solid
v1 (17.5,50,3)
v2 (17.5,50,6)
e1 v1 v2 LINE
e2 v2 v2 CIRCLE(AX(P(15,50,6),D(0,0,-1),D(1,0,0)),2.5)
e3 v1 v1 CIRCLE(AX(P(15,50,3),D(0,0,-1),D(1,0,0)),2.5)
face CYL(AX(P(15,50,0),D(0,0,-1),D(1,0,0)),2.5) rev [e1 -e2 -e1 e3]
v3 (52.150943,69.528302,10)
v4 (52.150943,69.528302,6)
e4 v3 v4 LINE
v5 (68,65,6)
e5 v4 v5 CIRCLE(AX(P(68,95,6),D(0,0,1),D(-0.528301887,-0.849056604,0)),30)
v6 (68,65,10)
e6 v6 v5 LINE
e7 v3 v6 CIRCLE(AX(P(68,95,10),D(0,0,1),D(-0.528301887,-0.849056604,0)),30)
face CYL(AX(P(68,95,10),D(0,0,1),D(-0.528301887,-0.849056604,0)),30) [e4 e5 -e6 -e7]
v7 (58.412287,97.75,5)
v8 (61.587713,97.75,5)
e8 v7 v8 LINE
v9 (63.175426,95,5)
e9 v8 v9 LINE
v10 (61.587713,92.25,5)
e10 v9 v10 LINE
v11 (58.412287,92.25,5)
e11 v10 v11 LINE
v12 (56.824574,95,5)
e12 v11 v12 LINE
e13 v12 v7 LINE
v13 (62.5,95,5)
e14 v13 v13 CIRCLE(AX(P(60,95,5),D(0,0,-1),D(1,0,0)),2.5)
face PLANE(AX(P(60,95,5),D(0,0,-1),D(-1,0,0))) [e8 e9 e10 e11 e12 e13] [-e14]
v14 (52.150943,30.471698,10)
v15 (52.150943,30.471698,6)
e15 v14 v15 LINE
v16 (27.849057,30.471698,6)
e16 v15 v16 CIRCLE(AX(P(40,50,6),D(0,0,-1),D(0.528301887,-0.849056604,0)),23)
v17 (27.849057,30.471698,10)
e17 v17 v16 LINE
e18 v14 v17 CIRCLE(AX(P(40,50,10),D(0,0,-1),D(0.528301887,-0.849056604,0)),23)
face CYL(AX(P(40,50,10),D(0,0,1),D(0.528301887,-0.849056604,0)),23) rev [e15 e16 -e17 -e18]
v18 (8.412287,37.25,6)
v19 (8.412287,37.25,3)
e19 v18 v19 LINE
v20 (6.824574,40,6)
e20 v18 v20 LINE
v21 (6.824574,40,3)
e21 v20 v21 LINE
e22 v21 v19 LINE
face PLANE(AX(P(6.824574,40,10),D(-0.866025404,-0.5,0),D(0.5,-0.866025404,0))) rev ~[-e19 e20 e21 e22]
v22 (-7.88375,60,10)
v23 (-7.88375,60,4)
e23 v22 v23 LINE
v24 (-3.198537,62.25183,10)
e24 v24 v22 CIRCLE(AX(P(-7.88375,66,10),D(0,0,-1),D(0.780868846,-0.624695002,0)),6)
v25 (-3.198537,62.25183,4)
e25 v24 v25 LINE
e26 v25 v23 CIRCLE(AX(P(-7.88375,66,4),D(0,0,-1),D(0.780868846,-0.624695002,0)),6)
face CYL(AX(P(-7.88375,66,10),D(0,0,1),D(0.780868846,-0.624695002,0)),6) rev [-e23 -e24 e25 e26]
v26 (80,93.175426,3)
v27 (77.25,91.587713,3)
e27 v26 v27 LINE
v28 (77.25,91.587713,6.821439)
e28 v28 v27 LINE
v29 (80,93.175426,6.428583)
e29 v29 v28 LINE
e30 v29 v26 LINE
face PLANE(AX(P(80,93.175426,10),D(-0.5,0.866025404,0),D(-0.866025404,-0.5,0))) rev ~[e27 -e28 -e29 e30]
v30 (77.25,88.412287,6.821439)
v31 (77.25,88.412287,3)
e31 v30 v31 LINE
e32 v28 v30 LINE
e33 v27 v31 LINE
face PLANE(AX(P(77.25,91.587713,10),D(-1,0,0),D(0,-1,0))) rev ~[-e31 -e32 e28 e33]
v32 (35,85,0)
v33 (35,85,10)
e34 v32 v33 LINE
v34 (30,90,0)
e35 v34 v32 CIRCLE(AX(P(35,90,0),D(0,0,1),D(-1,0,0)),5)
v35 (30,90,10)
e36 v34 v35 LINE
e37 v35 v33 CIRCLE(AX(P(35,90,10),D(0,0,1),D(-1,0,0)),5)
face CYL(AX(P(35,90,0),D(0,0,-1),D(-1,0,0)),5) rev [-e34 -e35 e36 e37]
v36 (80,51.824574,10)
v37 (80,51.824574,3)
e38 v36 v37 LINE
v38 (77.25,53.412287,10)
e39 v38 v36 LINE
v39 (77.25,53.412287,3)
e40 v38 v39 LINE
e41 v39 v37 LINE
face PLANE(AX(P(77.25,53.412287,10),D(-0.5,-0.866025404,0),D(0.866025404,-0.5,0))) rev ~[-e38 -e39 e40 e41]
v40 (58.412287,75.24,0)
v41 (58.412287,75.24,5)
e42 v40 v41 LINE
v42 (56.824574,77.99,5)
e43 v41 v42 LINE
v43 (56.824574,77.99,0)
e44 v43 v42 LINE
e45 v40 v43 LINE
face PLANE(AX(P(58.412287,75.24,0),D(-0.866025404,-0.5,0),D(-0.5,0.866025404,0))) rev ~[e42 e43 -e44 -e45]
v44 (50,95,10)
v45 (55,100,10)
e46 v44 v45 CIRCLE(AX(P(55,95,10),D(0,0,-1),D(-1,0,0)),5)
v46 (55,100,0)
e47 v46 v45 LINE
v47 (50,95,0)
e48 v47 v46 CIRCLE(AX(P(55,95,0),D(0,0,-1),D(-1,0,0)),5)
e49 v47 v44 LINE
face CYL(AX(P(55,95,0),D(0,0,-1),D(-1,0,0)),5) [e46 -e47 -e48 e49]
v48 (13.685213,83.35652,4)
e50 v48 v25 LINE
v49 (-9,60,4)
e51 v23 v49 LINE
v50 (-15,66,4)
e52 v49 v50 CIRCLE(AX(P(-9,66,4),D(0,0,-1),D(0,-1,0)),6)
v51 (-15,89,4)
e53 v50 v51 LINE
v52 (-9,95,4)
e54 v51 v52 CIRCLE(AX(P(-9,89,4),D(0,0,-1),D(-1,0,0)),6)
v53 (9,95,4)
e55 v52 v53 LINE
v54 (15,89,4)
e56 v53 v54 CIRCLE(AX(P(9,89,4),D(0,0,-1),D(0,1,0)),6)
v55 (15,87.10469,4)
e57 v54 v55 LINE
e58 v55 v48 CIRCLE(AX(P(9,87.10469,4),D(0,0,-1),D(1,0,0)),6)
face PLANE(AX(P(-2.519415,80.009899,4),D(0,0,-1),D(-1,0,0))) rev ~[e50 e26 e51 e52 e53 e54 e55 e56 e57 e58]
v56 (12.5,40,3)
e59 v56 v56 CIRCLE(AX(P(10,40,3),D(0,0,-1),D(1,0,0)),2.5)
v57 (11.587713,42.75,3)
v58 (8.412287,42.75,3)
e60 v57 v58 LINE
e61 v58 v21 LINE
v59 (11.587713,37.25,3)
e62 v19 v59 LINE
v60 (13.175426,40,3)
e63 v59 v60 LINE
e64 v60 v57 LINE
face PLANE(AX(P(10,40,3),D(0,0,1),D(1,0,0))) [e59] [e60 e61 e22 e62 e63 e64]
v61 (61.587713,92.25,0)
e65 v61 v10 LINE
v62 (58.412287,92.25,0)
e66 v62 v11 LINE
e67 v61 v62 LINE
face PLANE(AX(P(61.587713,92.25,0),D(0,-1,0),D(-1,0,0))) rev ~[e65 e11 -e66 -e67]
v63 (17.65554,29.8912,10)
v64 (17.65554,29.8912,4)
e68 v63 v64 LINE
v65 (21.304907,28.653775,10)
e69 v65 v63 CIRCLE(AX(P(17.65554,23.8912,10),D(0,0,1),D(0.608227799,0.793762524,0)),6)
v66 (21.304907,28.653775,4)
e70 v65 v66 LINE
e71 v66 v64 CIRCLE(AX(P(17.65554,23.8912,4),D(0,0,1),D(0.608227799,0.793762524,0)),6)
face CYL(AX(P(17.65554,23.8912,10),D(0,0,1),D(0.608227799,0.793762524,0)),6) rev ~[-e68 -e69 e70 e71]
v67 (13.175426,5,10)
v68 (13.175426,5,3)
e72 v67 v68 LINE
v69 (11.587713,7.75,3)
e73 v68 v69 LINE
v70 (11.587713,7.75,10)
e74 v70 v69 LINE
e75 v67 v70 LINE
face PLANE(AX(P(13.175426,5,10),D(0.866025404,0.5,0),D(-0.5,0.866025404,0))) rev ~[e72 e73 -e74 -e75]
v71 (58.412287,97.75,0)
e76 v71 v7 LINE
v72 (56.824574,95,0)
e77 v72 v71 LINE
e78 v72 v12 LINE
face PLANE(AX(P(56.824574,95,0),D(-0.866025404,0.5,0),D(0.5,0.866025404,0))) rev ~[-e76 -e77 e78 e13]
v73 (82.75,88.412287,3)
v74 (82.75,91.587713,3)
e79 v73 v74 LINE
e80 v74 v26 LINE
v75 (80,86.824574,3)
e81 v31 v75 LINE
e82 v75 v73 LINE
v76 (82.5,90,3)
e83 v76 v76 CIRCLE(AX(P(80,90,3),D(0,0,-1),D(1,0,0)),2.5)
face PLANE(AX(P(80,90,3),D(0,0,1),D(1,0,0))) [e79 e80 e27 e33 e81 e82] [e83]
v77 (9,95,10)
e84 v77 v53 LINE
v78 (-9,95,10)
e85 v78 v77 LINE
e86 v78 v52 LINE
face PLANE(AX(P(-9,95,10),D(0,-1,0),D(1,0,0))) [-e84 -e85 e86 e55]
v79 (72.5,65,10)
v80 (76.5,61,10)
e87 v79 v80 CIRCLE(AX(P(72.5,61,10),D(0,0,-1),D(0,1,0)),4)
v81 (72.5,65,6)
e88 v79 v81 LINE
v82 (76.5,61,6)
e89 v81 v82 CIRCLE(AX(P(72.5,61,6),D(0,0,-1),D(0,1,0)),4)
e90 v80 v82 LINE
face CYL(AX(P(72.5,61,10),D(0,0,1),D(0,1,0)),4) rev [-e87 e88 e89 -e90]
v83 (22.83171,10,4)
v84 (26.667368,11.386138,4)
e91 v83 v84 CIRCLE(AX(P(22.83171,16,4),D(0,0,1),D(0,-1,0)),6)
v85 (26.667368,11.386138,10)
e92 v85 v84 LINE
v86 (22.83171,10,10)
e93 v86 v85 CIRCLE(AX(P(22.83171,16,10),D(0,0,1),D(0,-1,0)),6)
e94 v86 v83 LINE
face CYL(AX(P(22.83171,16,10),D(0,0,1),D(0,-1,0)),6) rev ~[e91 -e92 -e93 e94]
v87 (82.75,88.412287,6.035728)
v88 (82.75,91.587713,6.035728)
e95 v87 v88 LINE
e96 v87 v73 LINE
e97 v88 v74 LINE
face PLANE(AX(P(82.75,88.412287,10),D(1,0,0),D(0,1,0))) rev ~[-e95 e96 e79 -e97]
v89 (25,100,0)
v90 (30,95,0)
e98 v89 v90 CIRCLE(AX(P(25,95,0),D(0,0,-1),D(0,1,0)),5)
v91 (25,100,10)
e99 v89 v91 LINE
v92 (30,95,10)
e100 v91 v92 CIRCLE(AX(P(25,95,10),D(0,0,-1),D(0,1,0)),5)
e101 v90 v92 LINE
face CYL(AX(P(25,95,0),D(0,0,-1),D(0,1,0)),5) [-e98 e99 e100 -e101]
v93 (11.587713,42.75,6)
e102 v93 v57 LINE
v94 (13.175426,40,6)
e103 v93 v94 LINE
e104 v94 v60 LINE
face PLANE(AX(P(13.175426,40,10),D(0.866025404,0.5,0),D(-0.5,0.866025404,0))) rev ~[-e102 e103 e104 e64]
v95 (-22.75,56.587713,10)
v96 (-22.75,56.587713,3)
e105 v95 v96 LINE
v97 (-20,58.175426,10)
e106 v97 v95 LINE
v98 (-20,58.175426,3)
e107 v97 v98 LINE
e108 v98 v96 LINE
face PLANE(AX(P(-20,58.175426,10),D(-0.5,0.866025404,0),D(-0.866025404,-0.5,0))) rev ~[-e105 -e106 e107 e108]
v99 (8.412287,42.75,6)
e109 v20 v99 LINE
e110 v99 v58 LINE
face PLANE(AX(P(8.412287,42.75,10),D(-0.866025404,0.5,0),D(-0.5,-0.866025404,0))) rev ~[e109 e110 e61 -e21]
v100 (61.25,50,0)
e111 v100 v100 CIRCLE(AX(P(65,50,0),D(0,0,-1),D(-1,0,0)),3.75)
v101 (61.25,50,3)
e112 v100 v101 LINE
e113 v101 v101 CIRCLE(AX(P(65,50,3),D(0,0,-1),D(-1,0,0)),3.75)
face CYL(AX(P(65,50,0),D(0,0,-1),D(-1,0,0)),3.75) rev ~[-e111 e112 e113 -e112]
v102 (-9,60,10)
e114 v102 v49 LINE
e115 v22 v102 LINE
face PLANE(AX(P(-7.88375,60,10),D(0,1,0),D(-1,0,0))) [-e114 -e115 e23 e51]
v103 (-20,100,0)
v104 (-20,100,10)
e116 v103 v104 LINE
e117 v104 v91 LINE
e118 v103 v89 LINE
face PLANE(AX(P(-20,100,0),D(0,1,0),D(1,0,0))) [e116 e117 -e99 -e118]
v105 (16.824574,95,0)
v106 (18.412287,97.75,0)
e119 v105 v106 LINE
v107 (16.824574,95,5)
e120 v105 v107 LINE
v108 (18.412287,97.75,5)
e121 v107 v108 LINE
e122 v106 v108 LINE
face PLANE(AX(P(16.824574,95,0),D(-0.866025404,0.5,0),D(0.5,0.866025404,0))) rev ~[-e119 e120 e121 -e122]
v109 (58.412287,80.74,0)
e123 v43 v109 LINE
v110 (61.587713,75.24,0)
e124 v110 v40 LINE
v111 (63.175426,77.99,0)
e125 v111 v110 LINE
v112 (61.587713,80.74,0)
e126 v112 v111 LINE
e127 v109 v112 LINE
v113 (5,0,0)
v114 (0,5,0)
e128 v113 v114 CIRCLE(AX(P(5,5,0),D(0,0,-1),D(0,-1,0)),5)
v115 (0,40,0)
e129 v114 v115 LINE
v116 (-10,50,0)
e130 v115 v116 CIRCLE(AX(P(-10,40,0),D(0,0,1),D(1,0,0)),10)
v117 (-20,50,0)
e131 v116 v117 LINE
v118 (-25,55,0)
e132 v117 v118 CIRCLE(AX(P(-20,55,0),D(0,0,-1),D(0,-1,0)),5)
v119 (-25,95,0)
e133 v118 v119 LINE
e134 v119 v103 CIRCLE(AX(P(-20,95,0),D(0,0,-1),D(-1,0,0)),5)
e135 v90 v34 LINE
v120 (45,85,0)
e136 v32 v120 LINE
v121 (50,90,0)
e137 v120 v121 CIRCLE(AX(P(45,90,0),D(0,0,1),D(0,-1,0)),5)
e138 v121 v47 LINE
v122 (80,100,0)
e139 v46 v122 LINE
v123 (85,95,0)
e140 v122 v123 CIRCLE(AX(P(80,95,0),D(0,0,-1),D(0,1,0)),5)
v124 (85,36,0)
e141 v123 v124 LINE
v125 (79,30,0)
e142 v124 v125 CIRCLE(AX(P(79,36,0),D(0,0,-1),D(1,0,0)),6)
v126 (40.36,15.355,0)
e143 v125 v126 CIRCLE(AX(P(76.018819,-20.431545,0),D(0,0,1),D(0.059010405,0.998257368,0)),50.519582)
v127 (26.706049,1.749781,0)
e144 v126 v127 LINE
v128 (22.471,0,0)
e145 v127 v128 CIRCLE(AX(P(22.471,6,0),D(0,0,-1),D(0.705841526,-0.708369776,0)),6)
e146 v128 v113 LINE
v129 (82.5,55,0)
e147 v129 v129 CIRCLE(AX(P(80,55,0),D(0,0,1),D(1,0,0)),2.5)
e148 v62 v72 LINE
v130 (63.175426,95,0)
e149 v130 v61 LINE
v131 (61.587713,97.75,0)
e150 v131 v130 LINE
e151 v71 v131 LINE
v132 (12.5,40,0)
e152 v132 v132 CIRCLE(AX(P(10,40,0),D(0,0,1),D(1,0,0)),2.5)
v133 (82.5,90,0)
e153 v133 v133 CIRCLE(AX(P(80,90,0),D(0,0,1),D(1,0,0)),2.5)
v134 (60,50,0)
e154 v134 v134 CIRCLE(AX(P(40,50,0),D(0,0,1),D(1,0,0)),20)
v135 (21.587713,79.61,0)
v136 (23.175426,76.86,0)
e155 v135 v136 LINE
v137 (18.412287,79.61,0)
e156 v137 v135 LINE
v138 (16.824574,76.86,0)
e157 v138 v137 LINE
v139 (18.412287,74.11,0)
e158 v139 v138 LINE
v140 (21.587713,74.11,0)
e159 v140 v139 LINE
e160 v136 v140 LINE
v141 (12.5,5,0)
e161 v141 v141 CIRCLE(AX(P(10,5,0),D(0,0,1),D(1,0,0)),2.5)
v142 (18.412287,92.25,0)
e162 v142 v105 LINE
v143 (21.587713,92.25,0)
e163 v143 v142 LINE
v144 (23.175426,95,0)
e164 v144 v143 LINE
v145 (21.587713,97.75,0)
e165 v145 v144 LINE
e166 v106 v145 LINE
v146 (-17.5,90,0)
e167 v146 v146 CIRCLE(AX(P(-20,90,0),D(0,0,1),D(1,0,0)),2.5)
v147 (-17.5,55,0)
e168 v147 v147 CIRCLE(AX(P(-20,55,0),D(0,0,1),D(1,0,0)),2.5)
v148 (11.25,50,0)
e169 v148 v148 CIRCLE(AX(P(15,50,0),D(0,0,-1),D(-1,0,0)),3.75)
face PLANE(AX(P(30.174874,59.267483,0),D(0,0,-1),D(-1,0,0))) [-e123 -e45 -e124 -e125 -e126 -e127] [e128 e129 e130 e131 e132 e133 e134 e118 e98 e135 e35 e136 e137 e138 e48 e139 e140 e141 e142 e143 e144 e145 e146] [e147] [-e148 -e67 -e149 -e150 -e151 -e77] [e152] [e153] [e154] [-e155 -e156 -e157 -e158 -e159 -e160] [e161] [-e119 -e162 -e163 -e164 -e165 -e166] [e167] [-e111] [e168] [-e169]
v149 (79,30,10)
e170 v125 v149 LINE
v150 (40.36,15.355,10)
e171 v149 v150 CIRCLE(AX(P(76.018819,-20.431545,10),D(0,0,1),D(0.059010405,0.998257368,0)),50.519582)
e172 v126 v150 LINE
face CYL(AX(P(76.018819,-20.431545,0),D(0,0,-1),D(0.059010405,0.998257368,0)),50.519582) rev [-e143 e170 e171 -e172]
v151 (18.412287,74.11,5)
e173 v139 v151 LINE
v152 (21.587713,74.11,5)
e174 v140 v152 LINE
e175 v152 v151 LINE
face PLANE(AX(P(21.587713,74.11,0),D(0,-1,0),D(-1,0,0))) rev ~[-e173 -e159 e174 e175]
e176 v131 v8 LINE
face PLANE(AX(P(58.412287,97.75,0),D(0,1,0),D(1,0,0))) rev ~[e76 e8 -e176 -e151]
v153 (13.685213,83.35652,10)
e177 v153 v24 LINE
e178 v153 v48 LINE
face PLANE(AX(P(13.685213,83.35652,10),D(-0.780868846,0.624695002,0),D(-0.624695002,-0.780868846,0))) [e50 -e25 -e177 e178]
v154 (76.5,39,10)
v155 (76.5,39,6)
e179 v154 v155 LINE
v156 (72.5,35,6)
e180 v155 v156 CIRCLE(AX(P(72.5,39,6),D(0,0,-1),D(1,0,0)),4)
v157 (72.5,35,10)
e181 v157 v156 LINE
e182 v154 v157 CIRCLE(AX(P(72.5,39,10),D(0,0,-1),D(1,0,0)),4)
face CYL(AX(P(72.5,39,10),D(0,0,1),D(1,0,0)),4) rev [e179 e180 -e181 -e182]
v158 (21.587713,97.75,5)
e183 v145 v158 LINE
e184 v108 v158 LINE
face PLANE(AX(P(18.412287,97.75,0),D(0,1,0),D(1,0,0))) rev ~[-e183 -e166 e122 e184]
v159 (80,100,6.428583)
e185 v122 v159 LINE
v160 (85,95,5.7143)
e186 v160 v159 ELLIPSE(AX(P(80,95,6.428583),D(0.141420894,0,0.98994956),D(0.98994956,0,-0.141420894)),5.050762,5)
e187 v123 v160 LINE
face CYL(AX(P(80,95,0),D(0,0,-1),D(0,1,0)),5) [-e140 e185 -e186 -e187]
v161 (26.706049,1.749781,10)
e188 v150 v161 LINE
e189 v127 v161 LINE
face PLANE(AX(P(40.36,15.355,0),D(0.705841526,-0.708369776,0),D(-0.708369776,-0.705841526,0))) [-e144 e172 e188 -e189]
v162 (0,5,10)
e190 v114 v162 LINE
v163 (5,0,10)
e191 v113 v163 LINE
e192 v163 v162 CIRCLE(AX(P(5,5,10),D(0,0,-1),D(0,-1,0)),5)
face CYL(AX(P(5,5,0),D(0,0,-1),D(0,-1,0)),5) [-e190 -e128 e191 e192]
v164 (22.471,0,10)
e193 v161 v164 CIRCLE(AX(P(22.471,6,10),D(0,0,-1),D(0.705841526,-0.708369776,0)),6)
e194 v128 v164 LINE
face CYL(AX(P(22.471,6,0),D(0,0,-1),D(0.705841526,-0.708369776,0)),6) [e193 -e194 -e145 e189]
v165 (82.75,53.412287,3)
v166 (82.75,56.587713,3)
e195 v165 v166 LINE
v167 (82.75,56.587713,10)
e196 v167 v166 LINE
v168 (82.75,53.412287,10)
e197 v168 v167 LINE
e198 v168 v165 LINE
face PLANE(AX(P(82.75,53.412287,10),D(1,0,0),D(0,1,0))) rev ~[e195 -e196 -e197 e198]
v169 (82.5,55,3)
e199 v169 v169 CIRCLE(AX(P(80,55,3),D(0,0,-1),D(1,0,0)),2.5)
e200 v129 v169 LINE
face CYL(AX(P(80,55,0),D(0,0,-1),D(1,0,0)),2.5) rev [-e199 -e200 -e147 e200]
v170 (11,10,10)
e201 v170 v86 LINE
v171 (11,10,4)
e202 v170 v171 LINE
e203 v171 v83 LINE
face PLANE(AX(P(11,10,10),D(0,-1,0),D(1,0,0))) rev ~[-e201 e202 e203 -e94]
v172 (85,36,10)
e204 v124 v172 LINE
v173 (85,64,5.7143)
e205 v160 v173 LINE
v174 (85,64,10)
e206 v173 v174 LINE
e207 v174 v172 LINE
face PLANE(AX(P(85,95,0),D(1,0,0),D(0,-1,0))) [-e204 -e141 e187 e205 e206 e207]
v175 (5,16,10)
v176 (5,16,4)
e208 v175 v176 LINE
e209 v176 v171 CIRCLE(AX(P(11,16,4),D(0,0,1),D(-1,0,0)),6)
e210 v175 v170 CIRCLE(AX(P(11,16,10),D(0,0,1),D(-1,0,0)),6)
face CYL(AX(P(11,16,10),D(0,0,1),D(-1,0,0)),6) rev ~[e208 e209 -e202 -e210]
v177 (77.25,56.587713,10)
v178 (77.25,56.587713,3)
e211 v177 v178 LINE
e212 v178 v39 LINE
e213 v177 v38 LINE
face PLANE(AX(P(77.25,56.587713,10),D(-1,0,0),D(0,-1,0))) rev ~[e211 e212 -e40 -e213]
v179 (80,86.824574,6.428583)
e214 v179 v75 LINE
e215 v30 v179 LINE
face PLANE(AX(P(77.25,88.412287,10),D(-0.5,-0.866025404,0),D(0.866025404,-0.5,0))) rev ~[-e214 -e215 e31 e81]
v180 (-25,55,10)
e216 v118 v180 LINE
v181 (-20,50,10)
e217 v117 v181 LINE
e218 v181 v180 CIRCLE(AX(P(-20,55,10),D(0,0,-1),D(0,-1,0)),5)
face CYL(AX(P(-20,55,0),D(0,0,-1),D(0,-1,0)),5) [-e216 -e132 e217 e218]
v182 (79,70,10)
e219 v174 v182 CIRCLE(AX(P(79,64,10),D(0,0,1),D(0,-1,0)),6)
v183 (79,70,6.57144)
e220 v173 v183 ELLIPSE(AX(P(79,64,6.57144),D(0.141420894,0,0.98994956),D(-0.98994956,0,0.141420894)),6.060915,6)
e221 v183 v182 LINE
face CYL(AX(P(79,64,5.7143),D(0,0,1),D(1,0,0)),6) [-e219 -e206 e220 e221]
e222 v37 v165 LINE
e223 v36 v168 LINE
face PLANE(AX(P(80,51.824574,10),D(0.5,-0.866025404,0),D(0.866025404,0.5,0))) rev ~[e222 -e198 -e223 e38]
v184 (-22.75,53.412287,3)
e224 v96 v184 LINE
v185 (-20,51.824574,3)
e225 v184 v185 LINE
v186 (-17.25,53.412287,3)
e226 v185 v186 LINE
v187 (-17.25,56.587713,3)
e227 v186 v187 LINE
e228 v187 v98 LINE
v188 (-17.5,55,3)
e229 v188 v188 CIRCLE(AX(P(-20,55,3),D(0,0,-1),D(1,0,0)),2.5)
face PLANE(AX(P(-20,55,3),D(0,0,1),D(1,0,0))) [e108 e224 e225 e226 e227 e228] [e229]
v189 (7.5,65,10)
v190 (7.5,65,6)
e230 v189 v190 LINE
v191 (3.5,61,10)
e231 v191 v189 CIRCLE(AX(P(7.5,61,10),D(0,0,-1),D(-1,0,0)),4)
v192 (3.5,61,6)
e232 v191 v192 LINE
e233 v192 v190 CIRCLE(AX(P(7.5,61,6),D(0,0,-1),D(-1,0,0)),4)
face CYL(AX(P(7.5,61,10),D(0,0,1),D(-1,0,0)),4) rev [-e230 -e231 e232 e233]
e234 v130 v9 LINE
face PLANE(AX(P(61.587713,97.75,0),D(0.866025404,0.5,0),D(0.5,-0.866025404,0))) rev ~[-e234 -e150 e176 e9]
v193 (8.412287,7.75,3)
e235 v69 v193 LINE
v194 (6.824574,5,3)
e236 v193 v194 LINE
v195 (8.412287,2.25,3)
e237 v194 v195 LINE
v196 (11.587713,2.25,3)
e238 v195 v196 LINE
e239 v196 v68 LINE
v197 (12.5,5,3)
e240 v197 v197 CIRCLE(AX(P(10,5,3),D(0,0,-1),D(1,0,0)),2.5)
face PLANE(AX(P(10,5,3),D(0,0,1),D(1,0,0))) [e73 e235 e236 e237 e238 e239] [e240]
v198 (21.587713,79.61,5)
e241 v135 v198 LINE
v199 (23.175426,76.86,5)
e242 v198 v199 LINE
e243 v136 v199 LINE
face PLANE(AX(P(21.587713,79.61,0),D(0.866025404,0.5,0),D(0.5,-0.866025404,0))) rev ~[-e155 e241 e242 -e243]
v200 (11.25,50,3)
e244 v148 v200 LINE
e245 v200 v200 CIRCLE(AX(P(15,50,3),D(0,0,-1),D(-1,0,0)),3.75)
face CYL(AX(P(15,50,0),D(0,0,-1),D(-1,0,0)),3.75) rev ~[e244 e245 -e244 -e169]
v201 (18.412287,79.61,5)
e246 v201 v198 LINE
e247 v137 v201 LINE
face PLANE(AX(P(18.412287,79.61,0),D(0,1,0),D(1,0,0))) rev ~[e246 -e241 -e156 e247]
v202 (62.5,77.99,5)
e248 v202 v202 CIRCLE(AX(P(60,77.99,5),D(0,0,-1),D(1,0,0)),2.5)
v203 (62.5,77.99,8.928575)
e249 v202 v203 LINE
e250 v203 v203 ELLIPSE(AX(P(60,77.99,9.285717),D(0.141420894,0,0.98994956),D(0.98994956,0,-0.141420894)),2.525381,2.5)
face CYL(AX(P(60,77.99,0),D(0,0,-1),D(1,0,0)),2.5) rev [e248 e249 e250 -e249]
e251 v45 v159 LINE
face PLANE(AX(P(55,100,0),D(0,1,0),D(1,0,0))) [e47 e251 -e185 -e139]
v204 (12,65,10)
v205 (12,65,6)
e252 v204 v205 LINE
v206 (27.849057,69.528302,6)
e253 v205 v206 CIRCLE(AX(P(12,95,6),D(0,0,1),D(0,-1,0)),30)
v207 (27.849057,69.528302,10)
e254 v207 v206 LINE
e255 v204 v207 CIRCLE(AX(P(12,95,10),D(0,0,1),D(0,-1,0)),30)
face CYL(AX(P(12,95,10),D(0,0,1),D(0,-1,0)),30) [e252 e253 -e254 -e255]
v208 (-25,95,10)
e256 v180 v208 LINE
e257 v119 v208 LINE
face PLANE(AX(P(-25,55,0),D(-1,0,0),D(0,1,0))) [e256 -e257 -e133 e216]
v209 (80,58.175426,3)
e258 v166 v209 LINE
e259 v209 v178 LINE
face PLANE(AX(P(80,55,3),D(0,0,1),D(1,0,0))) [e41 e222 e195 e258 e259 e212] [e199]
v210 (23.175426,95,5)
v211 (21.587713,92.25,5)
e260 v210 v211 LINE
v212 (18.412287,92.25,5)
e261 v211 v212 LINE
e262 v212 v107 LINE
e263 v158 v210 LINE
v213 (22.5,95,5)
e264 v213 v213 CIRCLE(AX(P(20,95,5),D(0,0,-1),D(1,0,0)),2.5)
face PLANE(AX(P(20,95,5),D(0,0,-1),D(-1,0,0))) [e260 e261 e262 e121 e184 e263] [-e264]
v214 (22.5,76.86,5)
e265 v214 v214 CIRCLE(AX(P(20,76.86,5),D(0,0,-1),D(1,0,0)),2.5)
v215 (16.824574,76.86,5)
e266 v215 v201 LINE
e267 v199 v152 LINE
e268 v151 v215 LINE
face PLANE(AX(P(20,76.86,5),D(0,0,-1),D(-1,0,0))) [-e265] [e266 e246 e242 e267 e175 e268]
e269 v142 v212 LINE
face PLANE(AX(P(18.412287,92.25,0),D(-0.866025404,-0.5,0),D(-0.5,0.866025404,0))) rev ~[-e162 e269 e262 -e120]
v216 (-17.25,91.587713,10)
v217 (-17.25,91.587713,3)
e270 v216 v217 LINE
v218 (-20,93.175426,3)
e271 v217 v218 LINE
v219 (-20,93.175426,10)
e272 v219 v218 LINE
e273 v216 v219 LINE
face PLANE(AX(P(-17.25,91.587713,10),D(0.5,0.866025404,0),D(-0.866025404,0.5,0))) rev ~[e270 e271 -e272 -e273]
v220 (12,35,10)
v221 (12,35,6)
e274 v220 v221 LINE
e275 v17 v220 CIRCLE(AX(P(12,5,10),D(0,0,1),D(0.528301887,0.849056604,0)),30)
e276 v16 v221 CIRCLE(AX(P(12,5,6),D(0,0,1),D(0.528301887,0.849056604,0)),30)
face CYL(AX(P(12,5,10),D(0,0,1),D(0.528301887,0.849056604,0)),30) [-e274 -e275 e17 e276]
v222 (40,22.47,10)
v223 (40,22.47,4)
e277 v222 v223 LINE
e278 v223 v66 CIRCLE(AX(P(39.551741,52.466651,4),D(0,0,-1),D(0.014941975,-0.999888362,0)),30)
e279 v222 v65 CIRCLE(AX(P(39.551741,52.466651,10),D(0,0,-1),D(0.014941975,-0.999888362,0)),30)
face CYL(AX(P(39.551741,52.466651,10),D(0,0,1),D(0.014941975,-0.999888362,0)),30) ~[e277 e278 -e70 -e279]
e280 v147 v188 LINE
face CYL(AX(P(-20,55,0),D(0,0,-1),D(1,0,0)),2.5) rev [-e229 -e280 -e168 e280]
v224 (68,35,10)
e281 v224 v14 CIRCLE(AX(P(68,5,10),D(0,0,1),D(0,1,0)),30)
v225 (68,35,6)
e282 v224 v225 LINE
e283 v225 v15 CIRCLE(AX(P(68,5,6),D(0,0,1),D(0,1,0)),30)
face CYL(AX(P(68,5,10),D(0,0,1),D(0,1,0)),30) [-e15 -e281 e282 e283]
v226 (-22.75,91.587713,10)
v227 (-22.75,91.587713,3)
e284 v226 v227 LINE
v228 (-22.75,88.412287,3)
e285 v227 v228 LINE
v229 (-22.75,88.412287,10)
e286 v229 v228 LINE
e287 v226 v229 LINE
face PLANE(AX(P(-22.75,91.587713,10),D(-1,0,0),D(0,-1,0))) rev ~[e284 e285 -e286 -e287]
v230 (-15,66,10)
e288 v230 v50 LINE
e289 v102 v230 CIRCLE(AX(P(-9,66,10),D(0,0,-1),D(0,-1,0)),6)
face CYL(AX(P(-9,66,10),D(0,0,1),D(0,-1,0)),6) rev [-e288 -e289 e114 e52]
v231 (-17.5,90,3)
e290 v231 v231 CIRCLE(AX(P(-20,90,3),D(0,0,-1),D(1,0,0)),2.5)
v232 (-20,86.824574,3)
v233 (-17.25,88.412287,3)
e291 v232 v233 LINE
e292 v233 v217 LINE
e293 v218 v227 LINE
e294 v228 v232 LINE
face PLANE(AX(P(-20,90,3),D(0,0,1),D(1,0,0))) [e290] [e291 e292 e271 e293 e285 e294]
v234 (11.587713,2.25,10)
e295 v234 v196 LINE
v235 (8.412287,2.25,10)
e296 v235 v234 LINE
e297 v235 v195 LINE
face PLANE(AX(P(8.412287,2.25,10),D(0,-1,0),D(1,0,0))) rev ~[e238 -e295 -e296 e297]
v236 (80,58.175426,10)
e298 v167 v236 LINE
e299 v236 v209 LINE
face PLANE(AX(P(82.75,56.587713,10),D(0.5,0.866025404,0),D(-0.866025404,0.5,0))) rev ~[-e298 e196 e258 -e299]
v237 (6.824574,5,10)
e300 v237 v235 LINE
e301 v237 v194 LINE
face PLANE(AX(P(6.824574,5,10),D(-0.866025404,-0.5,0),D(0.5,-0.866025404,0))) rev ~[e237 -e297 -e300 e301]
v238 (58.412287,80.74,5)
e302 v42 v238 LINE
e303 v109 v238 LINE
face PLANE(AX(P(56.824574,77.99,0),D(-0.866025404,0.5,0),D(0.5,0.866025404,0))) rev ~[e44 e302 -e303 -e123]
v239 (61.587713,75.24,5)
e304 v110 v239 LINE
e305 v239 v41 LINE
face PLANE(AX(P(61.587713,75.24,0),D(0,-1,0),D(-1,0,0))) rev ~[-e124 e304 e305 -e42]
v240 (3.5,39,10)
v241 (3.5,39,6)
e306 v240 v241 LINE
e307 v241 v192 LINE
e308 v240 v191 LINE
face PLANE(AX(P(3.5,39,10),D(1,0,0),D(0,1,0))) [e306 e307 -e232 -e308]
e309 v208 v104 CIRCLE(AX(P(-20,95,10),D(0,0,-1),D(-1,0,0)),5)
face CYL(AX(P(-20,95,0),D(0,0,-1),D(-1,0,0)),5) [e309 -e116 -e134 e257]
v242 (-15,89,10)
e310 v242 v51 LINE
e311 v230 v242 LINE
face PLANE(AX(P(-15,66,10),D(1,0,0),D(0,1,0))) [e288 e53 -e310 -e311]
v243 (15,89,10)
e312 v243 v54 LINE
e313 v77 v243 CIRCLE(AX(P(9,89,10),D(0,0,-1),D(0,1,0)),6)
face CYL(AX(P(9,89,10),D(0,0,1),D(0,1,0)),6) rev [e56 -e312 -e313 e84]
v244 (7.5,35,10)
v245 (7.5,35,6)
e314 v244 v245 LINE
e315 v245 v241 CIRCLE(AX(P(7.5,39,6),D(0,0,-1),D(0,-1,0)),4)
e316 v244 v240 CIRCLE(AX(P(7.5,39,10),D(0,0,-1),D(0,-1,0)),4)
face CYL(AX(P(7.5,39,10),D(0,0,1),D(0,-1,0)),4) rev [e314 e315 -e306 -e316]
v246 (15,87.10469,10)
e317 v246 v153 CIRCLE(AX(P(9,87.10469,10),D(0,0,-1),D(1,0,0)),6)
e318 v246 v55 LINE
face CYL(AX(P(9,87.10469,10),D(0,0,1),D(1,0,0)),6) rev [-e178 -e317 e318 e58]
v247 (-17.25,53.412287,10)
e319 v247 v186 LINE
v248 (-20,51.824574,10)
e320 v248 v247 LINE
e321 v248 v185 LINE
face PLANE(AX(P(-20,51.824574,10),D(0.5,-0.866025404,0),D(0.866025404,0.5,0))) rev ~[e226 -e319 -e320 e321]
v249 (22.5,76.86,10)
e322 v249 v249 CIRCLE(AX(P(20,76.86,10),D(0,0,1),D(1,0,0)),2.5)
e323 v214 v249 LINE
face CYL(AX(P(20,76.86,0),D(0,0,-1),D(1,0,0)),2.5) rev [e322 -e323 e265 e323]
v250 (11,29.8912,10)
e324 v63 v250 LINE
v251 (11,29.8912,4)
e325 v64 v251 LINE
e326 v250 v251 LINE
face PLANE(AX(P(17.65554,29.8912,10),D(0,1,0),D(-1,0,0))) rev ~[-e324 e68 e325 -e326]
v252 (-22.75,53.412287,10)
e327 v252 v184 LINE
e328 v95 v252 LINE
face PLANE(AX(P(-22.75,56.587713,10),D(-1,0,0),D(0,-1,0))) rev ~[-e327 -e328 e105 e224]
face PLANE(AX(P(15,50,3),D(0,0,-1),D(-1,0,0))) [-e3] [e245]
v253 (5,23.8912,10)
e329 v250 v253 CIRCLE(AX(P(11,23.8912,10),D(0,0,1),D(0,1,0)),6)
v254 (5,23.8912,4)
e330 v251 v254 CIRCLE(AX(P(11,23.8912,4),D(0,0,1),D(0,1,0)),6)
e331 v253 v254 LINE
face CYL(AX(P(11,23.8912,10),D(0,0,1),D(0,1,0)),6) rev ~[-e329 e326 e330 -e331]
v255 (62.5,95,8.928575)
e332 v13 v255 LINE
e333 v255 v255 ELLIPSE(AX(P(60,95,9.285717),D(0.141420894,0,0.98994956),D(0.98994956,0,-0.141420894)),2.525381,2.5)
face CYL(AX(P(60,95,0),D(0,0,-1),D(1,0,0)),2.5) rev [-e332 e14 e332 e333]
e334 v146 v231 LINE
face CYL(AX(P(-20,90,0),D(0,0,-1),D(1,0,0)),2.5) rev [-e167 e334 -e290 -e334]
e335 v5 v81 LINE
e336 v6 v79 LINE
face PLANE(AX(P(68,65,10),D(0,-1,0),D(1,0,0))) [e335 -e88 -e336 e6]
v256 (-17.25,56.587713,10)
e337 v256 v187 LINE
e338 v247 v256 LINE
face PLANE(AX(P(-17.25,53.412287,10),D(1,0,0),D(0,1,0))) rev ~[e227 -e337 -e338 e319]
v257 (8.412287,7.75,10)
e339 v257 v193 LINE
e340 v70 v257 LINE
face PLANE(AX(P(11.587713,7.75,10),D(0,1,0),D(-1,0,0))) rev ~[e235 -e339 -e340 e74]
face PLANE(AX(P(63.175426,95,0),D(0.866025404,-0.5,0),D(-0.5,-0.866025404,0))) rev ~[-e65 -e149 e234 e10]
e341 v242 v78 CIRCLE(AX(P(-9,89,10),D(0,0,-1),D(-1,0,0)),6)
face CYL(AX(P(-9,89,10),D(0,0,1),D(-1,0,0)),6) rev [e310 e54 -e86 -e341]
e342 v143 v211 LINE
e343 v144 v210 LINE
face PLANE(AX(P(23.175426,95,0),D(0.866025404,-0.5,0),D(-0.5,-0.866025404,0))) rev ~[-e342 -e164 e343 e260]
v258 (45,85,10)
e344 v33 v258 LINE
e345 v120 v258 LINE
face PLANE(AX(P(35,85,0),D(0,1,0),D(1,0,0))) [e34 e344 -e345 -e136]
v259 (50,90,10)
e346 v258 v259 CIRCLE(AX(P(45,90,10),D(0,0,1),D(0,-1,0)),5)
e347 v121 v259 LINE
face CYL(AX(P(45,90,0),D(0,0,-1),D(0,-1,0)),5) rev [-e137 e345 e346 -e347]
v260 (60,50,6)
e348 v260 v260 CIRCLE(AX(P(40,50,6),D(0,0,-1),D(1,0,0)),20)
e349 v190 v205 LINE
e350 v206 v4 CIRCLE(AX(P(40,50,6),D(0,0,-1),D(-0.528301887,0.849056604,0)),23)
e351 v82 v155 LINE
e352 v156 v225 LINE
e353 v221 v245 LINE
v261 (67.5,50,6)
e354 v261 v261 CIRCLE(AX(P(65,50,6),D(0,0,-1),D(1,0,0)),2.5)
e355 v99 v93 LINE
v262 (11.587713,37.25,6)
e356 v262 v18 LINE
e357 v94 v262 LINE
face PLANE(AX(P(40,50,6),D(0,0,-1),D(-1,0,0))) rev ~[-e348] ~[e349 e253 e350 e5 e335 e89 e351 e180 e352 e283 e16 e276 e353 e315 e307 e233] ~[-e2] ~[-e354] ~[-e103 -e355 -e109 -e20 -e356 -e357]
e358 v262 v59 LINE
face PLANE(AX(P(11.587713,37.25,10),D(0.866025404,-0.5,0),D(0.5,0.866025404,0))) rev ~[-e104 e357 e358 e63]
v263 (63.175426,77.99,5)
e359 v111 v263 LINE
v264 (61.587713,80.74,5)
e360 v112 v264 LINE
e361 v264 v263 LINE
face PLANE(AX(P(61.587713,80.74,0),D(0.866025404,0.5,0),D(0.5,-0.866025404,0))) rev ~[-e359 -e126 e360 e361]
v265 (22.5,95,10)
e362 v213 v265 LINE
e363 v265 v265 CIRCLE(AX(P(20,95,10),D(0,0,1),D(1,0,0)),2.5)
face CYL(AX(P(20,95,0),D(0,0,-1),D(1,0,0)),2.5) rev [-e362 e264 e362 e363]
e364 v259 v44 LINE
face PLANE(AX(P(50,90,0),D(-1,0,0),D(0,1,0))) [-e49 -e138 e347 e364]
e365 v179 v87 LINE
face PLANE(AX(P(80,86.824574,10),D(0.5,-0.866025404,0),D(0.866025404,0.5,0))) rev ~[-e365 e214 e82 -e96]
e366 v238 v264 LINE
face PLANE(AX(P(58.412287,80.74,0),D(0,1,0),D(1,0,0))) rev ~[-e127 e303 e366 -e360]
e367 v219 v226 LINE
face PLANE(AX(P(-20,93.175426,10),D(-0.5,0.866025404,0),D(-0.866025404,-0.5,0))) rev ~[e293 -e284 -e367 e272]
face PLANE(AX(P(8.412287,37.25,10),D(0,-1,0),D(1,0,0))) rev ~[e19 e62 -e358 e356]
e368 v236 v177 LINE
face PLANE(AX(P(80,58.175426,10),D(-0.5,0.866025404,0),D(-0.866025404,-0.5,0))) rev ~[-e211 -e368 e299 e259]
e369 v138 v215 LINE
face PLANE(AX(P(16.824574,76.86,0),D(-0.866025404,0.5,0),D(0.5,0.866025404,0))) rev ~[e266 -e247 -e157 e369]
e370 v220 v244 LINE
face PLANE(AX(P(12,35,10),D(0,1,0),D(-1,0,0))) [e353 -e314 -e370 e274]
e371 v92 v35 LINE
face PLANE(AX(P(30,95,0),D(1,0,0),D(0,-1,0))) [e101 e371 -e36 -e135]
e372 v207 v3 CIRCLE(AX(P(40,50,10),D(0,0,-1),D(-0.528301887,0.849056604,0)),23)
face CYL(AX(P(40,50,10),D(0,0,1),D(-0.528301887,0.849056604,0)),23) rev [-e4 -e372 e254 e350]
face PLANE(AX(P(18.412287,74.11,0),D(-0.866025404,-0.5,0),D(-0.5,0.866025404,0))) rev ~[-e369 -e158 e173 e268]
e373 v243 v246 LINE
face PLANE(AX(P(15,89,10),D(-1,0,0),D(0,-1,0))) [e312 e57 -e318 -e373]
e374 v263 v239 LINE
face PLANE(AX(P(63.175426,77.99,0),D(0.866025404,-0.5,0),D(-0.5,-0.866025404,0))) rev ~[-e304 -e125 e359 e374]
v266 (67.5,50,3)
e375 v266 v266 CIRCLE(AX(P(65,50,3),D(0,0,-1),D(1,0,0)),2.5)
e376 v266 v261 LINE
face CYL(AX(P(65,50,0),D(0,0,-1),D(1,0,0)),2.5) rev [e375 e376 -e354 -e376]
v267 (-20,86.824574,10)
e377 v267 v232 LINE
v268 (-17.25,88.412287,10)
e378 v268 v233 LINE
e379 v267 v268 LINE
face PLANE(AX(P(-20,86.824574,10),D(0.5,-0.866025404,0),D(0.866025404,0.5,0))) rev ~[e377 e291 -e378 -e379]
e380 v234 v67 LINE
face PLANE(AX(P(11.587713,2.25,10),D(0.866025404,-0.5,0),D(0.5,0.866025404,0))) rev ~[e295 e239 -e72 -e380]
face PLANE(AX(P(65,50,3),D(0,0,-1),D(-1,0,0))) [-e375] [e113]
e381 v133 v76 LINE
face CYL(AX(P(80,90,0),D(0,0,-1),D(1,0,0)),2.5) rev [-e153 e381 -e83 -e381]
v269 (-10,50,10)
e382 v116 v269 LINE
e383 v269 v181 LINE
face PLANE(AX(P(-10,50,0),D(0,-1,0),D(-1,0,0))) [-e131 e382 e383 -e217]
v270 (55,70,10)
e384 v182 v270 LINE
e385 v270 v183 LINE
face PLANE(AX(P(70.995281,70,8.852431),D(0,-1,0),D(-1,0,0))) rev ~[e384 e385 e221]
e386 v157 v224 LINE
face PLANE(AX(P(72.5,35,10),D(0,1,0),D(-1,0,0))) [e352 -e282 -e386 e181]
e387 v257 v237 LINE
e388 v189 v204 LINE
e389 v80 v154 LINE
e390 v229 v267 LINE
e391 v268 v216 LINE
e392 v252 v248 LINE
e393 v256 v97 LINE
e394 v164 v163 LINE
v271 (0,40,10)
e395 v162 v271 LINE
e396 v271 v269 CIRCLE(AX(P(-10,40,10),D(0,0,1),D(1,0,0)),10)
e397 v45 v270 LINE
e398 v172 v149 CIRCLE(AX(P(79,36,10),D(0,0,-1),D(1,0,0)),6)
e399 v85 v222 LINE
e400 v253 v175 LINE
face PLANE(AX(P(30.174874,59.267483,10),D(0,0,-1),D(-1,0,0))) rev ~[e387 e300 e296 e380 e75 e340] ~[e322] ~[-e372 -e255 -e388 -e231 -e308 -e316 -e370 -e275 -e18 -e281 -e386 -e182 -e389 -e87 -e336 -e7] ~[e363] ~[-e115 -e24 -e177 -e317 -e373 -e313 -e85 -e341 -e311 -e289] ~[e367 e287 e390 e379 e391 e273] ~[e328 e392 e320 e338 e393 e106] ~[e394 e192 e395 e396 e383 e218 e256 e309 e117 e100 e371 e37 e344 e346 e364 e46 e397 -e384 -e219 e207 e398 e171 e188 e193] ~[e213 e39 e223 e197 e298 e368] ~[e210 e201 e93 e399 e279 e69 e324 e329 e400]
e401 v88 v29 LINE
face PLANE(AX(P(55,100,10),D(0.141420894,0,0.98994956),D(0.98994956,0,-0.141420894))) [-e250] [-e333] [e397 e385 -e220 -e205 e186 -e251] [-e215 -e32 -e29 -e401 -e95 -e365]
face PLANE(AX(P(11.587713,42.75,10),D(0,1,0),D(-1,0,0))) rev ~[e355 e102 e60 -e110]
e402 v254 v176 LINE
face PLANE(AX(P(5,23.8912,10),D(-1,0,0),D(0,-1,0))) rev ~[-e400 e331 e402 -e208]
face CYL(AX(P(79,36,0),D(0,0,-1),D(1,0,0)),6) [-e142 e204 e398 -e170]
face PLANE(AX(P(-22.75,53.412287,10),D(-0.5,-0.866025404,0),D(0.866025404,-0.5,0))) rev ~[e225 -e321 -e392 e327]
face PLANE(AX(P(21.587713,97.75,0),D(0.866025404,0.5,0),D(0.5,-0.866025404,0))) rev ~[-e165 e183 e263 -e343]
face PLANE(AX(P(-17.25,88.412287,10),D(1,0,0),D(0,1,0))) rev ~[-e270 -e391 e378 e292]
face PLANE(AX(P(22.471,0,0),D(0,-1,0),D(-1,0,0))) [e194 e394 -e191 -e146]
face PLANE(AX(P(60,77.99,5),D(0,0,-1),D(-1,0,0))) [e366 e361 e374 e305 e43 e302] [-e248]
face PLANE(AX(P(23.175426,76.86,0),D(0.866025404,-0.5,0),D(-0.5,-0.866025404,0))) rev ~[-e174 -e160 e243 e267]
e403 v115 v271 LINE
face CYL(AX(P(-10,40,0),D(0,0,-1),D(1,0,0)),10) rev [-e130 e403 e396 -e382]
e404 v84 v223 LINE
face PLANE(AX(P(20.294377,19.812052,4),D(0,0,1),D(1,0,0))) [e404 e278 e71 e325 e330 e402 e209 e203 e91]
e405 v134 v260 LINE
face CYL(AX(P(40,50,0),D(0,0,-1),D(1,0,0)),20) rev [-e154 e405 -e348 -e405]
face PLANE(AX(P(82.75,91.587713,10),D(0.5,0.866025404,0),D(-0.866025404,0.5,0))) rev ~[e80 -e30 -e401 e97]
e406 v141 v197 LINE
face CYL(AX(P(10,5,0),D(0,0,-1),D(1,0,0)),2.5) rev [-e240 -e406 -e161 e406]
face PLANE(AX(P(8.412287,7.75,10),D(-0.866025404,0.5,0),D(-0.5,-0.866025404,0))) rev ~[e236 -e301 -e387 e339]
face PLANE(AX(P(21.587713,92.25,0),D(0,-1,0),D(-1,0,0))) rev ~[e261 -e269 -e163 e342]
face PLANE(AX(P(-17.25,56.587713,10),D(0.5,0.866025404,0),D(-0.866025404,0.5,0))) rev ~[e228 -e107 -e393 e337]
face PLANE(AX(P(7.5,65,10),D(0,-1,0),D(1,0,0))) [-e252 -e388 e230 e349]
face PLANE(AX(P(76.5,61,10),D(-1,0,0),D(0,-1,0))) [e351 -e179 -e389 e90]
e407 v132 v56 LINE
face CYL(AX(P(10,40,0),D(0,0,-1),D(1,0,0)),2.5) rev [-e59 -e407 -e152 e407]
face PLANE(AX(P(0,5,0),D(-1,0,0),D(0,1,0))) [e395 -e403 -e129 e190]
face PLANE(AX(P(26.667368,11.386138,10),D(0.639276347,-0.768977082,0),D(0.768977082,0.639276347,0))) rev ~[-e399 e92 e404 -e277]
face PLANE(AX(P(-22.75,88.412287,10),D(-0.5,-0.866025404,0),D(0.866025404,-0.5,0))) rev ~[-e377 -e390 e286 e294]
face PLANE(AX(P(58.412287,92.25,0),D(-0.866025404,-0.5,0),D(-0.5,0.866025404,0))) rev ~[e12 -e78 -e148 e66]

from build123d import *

# Parameters (mm, degrees)
SKETCH1_R           = 20
SKETCH1_R_2         = 2.5
BOSS_EXTRUDE1_DEPTH = 10
CUT_EXTRUDE1_DEPTH  = 30
FILLET1_R           = 6
CUT_EXTRUDE2_DEPTH  = 4
CUT_EXTRUDE3_DEPTH  = 6
SKETCH5_R           = 3.75
CUT_EXTRUDE4_DEPTH  = 3
CUT_EXTRUDE5_DEPTH  = 5
CUT_EXTRUDE6_DEPTH  = 7


with BuildPart() as part:
    # Sketch1 → Boss-Extrude1 (new body)
    with BuildSketch(Plane.XY):
        with BuildLine():
            Line((0, 5), (0, 40))
            ThreePointArc((0, 40), (-2.928932188, 47.071067812), (-10, 50))
            Line((-10, 50), (-20, 50))
            ThreePointArc((-20, 50), (-23.535533906, 51.464466094), (-25, 55))
            Line((-25, 55), (-25, 95))
            ThreePointArc((-25, 95), (-23.535533906, 98.535533906), (-20, 100))
            Line((-20, 100), (25, 100))
            ThreePointArc((25, 100), (28.535533906, 98.535533906), (30, 95))
            Line((30, 95), (30, 90))
            ThreePointArc((30, 90), (31.464466094, 86.464466094), (35, 85))
            Line((35, 85), (45, 85))
            ThreePointArc((45, 85), (48.535533906, 86.464466094), (50, 90))
            Line((50, 90), (50, 95))
            ThreePointArc((50, 95), (51.464466094, 98.535533906), (55, 100))
            Line((55, 100), (80, 100))
            ThreePointArc((80, 100), (83.535533906, 98.535533906), (85, 95))
            Line((85, 95), (85, 36))
            ThreePointArc((85, 36), (83.242640687, 31.757359313), (79, 30))
            ThreePointArc((79, 30), (58.114182378, 26.808820785), (40.36, 15.355))
            Line((40.36, 15.355), (26.706048875, 1.749781342))
            ThreePointArc((26.706048875, 1.749781342), (24.762144416, 0.4546726), (22.470999719, 0))
            Line((22.470999719, 0), (5, 0))
            ThreePointArc((5, 0), (1.464466094, 1.464466094), (0, 5))
        make_face()
        with Locations((40, 50)):
            Circle(SKETCH1_R, mode=Mode.SUBTRACT)
        with Locations((10, 5)):
            Circle(SKETCH1_R_2, mode=Mode.SUBTRACT)
        with Locations((10, 40)):
            Circle(SKETCH1_R_2, mode=Mode.SUBTRACT)
        with Locations((15, 50)):
            Circle(SKETCH1_R_2, mode=Mode.SUBTRACT)
        with Locations((-20, 55)):
            Circle(SKETCH1_R_2, mode=Mode.SUBTRACT)
        with Locations((-20, 90)):
            Circle(SKETCH1_R_2, mode=Mode.SUBTRACT)
        with Locations((20, 95)):
            Circle(SKETCH1_R_2, mode=Mode.SUBTRACT)
        with Locations((20, 76.86)):
            Circle(SKETCH1_R_2, mode=Mode.SUBTRACT)
        with Locations((60, 77.99)):
            Circle(SKETCH1_R_2, mode=Mode.SUBTRACT)
        with Locations((60, 95)):
            Circle(SKETCH1_R_2, mode=Mode.SUBTRACT)
        with Locations((80, 90)):
            Circle(SKETCH1_R_2, mode=Mode.SUBTRACT)
        with Locations((80, 55)):
            Circle(SKETCH1_R_2, mode=Mode.SUBTRACT)
        with Locations((65, 50)):
            Circle(SKETCH1_R_2, mode=Mode.SUBTRACT)
    extrude(amount=BOSS_EXTRUDE1_DEPTH)

    # Sketch2 → Cut-Extrude1 (cut)
    with BuildSketch(Plane(origin=(0, 100, 0), x_dir=(1, 0, 0), z_dir=(0, 1, 0))):
        Polygon((55, -10), (85, -5.7143), (85, -10), align=None)
    extrude(amount=-CUT_EXTRUDE1_DEPTH, mode=Mode.SUBTRACT)

    # Fillet1
    fillet1_edges = [part.edges().sort_by_distance(p)[0] for p in [
        (85, 70, 7.85715),
    ]]
    fillet(fillet1_edges, radius=FILLET1_R)

    # Sketch3 → Cut-Extrude2 (cut)
    with BuildSketch(Plane.XY.offset(10)):
        with BuildLine():
            Line((76.5, 61), (76.5, 39))
            ThreePointArc((76.5, 39), (75.328427125, 36.171572875), (72.5, 35))
            Line((72.5, 35), (68, 35))
            ThreePointArc((68, 35), (59.758366163, 33.845718429), (52.150943396, 30.471698113))
            ThreePointArc((52.150943396, 30.471698113), (40, 27), (27.849056604, 30.471698113))
            ThreePointArc((27.849056604, 30.471698113), (20.241633837, 33.845718429), (12, 35))
            Line((12, 35), (7.5, 35))
            ThreePointArc((7.5, 35), (4.671572875, 36.171572875), (3.5, 39))
            Line((3.5, 39), (3.5, 61))
            ThreePointArc((3.5, 61), (4.671572875, 63.828427125), (7.5, 65))
            Line((7.5, 65), (12, 65))
            ThreePointArc((12, 65), (20.241633837, 66.154281571), (27.849056604, 69.528301887))
            ThreePointArc((27.849056604, 69.528301887), (40, 73), (52.150943396, 69.528301887))
            ThreePointArc((52.150943396, 69.528301887), (59.758366163, 66.154281571), (68, 65))
            Line((68, 65), (72.5, 65))
            ThreePointArc((72.5, 65), (75.328427125, 63.828427125), (76.5, 61))
        make_face()
    extrude(amount=-CUT_EXTRUDE2_DEPTH, mode=Mode.SUBTRACT)

    # Sketch4 → Cut-Extrude3 (cut)
    with BuildSketch(Plane.XY.offset(10)):
        with BuildLine():
            Line((-15, 66), (-15, 89))
            ThreePointArc((-15, 89), (-13.242640687, 93.242640687), (-9, 95))
            Line((-9, 95), (9, 95))
            ThreePointArc((9, 95), (13.242640687, 93.242640687), (15, 89))
            Line((15, 89), (15, 87.10469))
            ThreePointArc((15, 87.10469), (14.661769972, 85.118648515), (13.685213073, 83.356519985))
            Line((13.685213073, 83.356519985), (-3.198536927, 62.251829985))
            ThreePointArc((-3.198536927, 62.251829985), (-5.284617461, 60.592180657), (-7.88375, 60))
            Line((-7.88375, 60), (-9, 60))
            ThreePointArc((-9, 60), (-13.242640687, 61.757359313), (-15, 66))
        make_face()
        with BuildLine():
            Line((5, 23.8912), (5, 16))
            ThreePointArc((5, 16), (6.757359313, 11.757359313), (11, 10))
            Line((11, 10), (22.83171, 10))
            ThreePointArc((22.83171, 10), (24.870928608, 10.357164944), (26.667368083, 11.386137511))
            Line((26.667368083, 11.386137511), (40, 22.47))
            ThreePointArc((40, 22.47), (30.130642928, 23.984324498), (21.304906792, 28.653775146))
            ThreePointArc((21.304906792, 28.653775146), (19.582266385, 29.573428915), (17.65554, 29.8912))
            Line((17.65554, 29.8912), (11, 29.8912))
            ThreePointArc((11, 29.8912), (6.757359313, 28.133840687), (5, 23.8912))
        make_face()
    extrude(amount=-CUT_EXTRUDE3_DEPTH, mode=Mode.SUBTRACT)

    # Sketch5 → Cut-Extrude4 (cut)
    with BuildSketch(Plane(origin=(0, 0, 0), x_dir=(-1, 0, 0), z_dir=(0, 0, -1))):
        with Locations((-65, 50)):
            Circle(SKETCH5_R)
        with Locations((-15, 50)):
            Circle(SKETCH5_R)
    extrude(amount=-CUT_EXTRUDE4_DEPTH, mode=Mode.SUBTRACT)

    # Sketch6 → Cut-Extrude5 (cut)
    with BuildSketch(Plane(origin=(0, 0, 0), x_dir=(-1, 0, 0), z_dir=(0, 0, -1))):
        Polygon((-56.824573519, 95), (-58.41228676, 97.75), (-61.58771324, 97.75), (-63.175426481, 95), (-61.58771324, 92.25), (-58.41228676, 92.25), align=None)
        Polygon((-56.824573519, 77.99), (-58.41228676, 80.74), (-61.58771324, 80.74), (-63.175426481, 77.99), (-61.58771324, 75.24), (-58.41228676, 75.24), align=None)
        Polygon((-16.824573519, 76.86), (-18.41228676, 79.61), (-21.58771324, 79.61), (-23.175426481, 76.86), (-21.58771324, 74.11), (-18.41228676, 74.11), align=None)
        Polygon((-16.824573519, 95), (-18.41228676, 97.75), (-21.58771324, 97.75), (-23.175426481, 95), (-21.58771324, 92.25), (-18.41228676, 92.25), align=None)
    extrude(amount=-CUT_EXTRUDE5_DEPTH, mode=Mode.SUBTRACT)

    # Sketch7 → Cut-Extrude6 (cut)
    with BuildSketch(Plane.XY.offset(10)):
        Polygon((-17.25, 91.58771324), (-20, 93.175426481), (-22.75, 91.58771324), (-22.75, 88.41228676), (-20, 86.824573519), (-17.25, 88.41228676), align=None)
        Polygon((-17.25, 56.58771324), (-20, 58.175426481), (-22.75, 56.58771324), (-22.75, 53.41228676), (-20, 51.824573519), (-17.25, 53.41228676), align=None)
        Polygon((82.75, 91.58771324), (80, 93.175426481), (77.25, 91.58771324), (77.25, 88.41228676), (80, 86.824573519), (82.75, 88.41228676), align=None)
        Polygon((82.75, 56.58771324), (80, 58.175426481), (77.25, 56.58771324), (77.25, 53.41228676), (80, 51.824573519), (82.75, 53.41228676), align=None)
        Polygon((13.175426481, 40), (11.58771324, 42.75), (8.41228676, 42.75), (6.824573519, 40), (8.41228676, 37.25), (11.58771324, 37.25), align=None)
        Polygon((13.175426481, 5), (11.58771324, 7.75), (8.41228676, 7.75), (6.824573519, 5), (8.41228676, 2.25), (11.58771324, 2.25), align=None)
    extrude(amount=-CUT_EXTRUDE6_DEPTH, mode=Mode.SUBTRACT)


solid = part.part
